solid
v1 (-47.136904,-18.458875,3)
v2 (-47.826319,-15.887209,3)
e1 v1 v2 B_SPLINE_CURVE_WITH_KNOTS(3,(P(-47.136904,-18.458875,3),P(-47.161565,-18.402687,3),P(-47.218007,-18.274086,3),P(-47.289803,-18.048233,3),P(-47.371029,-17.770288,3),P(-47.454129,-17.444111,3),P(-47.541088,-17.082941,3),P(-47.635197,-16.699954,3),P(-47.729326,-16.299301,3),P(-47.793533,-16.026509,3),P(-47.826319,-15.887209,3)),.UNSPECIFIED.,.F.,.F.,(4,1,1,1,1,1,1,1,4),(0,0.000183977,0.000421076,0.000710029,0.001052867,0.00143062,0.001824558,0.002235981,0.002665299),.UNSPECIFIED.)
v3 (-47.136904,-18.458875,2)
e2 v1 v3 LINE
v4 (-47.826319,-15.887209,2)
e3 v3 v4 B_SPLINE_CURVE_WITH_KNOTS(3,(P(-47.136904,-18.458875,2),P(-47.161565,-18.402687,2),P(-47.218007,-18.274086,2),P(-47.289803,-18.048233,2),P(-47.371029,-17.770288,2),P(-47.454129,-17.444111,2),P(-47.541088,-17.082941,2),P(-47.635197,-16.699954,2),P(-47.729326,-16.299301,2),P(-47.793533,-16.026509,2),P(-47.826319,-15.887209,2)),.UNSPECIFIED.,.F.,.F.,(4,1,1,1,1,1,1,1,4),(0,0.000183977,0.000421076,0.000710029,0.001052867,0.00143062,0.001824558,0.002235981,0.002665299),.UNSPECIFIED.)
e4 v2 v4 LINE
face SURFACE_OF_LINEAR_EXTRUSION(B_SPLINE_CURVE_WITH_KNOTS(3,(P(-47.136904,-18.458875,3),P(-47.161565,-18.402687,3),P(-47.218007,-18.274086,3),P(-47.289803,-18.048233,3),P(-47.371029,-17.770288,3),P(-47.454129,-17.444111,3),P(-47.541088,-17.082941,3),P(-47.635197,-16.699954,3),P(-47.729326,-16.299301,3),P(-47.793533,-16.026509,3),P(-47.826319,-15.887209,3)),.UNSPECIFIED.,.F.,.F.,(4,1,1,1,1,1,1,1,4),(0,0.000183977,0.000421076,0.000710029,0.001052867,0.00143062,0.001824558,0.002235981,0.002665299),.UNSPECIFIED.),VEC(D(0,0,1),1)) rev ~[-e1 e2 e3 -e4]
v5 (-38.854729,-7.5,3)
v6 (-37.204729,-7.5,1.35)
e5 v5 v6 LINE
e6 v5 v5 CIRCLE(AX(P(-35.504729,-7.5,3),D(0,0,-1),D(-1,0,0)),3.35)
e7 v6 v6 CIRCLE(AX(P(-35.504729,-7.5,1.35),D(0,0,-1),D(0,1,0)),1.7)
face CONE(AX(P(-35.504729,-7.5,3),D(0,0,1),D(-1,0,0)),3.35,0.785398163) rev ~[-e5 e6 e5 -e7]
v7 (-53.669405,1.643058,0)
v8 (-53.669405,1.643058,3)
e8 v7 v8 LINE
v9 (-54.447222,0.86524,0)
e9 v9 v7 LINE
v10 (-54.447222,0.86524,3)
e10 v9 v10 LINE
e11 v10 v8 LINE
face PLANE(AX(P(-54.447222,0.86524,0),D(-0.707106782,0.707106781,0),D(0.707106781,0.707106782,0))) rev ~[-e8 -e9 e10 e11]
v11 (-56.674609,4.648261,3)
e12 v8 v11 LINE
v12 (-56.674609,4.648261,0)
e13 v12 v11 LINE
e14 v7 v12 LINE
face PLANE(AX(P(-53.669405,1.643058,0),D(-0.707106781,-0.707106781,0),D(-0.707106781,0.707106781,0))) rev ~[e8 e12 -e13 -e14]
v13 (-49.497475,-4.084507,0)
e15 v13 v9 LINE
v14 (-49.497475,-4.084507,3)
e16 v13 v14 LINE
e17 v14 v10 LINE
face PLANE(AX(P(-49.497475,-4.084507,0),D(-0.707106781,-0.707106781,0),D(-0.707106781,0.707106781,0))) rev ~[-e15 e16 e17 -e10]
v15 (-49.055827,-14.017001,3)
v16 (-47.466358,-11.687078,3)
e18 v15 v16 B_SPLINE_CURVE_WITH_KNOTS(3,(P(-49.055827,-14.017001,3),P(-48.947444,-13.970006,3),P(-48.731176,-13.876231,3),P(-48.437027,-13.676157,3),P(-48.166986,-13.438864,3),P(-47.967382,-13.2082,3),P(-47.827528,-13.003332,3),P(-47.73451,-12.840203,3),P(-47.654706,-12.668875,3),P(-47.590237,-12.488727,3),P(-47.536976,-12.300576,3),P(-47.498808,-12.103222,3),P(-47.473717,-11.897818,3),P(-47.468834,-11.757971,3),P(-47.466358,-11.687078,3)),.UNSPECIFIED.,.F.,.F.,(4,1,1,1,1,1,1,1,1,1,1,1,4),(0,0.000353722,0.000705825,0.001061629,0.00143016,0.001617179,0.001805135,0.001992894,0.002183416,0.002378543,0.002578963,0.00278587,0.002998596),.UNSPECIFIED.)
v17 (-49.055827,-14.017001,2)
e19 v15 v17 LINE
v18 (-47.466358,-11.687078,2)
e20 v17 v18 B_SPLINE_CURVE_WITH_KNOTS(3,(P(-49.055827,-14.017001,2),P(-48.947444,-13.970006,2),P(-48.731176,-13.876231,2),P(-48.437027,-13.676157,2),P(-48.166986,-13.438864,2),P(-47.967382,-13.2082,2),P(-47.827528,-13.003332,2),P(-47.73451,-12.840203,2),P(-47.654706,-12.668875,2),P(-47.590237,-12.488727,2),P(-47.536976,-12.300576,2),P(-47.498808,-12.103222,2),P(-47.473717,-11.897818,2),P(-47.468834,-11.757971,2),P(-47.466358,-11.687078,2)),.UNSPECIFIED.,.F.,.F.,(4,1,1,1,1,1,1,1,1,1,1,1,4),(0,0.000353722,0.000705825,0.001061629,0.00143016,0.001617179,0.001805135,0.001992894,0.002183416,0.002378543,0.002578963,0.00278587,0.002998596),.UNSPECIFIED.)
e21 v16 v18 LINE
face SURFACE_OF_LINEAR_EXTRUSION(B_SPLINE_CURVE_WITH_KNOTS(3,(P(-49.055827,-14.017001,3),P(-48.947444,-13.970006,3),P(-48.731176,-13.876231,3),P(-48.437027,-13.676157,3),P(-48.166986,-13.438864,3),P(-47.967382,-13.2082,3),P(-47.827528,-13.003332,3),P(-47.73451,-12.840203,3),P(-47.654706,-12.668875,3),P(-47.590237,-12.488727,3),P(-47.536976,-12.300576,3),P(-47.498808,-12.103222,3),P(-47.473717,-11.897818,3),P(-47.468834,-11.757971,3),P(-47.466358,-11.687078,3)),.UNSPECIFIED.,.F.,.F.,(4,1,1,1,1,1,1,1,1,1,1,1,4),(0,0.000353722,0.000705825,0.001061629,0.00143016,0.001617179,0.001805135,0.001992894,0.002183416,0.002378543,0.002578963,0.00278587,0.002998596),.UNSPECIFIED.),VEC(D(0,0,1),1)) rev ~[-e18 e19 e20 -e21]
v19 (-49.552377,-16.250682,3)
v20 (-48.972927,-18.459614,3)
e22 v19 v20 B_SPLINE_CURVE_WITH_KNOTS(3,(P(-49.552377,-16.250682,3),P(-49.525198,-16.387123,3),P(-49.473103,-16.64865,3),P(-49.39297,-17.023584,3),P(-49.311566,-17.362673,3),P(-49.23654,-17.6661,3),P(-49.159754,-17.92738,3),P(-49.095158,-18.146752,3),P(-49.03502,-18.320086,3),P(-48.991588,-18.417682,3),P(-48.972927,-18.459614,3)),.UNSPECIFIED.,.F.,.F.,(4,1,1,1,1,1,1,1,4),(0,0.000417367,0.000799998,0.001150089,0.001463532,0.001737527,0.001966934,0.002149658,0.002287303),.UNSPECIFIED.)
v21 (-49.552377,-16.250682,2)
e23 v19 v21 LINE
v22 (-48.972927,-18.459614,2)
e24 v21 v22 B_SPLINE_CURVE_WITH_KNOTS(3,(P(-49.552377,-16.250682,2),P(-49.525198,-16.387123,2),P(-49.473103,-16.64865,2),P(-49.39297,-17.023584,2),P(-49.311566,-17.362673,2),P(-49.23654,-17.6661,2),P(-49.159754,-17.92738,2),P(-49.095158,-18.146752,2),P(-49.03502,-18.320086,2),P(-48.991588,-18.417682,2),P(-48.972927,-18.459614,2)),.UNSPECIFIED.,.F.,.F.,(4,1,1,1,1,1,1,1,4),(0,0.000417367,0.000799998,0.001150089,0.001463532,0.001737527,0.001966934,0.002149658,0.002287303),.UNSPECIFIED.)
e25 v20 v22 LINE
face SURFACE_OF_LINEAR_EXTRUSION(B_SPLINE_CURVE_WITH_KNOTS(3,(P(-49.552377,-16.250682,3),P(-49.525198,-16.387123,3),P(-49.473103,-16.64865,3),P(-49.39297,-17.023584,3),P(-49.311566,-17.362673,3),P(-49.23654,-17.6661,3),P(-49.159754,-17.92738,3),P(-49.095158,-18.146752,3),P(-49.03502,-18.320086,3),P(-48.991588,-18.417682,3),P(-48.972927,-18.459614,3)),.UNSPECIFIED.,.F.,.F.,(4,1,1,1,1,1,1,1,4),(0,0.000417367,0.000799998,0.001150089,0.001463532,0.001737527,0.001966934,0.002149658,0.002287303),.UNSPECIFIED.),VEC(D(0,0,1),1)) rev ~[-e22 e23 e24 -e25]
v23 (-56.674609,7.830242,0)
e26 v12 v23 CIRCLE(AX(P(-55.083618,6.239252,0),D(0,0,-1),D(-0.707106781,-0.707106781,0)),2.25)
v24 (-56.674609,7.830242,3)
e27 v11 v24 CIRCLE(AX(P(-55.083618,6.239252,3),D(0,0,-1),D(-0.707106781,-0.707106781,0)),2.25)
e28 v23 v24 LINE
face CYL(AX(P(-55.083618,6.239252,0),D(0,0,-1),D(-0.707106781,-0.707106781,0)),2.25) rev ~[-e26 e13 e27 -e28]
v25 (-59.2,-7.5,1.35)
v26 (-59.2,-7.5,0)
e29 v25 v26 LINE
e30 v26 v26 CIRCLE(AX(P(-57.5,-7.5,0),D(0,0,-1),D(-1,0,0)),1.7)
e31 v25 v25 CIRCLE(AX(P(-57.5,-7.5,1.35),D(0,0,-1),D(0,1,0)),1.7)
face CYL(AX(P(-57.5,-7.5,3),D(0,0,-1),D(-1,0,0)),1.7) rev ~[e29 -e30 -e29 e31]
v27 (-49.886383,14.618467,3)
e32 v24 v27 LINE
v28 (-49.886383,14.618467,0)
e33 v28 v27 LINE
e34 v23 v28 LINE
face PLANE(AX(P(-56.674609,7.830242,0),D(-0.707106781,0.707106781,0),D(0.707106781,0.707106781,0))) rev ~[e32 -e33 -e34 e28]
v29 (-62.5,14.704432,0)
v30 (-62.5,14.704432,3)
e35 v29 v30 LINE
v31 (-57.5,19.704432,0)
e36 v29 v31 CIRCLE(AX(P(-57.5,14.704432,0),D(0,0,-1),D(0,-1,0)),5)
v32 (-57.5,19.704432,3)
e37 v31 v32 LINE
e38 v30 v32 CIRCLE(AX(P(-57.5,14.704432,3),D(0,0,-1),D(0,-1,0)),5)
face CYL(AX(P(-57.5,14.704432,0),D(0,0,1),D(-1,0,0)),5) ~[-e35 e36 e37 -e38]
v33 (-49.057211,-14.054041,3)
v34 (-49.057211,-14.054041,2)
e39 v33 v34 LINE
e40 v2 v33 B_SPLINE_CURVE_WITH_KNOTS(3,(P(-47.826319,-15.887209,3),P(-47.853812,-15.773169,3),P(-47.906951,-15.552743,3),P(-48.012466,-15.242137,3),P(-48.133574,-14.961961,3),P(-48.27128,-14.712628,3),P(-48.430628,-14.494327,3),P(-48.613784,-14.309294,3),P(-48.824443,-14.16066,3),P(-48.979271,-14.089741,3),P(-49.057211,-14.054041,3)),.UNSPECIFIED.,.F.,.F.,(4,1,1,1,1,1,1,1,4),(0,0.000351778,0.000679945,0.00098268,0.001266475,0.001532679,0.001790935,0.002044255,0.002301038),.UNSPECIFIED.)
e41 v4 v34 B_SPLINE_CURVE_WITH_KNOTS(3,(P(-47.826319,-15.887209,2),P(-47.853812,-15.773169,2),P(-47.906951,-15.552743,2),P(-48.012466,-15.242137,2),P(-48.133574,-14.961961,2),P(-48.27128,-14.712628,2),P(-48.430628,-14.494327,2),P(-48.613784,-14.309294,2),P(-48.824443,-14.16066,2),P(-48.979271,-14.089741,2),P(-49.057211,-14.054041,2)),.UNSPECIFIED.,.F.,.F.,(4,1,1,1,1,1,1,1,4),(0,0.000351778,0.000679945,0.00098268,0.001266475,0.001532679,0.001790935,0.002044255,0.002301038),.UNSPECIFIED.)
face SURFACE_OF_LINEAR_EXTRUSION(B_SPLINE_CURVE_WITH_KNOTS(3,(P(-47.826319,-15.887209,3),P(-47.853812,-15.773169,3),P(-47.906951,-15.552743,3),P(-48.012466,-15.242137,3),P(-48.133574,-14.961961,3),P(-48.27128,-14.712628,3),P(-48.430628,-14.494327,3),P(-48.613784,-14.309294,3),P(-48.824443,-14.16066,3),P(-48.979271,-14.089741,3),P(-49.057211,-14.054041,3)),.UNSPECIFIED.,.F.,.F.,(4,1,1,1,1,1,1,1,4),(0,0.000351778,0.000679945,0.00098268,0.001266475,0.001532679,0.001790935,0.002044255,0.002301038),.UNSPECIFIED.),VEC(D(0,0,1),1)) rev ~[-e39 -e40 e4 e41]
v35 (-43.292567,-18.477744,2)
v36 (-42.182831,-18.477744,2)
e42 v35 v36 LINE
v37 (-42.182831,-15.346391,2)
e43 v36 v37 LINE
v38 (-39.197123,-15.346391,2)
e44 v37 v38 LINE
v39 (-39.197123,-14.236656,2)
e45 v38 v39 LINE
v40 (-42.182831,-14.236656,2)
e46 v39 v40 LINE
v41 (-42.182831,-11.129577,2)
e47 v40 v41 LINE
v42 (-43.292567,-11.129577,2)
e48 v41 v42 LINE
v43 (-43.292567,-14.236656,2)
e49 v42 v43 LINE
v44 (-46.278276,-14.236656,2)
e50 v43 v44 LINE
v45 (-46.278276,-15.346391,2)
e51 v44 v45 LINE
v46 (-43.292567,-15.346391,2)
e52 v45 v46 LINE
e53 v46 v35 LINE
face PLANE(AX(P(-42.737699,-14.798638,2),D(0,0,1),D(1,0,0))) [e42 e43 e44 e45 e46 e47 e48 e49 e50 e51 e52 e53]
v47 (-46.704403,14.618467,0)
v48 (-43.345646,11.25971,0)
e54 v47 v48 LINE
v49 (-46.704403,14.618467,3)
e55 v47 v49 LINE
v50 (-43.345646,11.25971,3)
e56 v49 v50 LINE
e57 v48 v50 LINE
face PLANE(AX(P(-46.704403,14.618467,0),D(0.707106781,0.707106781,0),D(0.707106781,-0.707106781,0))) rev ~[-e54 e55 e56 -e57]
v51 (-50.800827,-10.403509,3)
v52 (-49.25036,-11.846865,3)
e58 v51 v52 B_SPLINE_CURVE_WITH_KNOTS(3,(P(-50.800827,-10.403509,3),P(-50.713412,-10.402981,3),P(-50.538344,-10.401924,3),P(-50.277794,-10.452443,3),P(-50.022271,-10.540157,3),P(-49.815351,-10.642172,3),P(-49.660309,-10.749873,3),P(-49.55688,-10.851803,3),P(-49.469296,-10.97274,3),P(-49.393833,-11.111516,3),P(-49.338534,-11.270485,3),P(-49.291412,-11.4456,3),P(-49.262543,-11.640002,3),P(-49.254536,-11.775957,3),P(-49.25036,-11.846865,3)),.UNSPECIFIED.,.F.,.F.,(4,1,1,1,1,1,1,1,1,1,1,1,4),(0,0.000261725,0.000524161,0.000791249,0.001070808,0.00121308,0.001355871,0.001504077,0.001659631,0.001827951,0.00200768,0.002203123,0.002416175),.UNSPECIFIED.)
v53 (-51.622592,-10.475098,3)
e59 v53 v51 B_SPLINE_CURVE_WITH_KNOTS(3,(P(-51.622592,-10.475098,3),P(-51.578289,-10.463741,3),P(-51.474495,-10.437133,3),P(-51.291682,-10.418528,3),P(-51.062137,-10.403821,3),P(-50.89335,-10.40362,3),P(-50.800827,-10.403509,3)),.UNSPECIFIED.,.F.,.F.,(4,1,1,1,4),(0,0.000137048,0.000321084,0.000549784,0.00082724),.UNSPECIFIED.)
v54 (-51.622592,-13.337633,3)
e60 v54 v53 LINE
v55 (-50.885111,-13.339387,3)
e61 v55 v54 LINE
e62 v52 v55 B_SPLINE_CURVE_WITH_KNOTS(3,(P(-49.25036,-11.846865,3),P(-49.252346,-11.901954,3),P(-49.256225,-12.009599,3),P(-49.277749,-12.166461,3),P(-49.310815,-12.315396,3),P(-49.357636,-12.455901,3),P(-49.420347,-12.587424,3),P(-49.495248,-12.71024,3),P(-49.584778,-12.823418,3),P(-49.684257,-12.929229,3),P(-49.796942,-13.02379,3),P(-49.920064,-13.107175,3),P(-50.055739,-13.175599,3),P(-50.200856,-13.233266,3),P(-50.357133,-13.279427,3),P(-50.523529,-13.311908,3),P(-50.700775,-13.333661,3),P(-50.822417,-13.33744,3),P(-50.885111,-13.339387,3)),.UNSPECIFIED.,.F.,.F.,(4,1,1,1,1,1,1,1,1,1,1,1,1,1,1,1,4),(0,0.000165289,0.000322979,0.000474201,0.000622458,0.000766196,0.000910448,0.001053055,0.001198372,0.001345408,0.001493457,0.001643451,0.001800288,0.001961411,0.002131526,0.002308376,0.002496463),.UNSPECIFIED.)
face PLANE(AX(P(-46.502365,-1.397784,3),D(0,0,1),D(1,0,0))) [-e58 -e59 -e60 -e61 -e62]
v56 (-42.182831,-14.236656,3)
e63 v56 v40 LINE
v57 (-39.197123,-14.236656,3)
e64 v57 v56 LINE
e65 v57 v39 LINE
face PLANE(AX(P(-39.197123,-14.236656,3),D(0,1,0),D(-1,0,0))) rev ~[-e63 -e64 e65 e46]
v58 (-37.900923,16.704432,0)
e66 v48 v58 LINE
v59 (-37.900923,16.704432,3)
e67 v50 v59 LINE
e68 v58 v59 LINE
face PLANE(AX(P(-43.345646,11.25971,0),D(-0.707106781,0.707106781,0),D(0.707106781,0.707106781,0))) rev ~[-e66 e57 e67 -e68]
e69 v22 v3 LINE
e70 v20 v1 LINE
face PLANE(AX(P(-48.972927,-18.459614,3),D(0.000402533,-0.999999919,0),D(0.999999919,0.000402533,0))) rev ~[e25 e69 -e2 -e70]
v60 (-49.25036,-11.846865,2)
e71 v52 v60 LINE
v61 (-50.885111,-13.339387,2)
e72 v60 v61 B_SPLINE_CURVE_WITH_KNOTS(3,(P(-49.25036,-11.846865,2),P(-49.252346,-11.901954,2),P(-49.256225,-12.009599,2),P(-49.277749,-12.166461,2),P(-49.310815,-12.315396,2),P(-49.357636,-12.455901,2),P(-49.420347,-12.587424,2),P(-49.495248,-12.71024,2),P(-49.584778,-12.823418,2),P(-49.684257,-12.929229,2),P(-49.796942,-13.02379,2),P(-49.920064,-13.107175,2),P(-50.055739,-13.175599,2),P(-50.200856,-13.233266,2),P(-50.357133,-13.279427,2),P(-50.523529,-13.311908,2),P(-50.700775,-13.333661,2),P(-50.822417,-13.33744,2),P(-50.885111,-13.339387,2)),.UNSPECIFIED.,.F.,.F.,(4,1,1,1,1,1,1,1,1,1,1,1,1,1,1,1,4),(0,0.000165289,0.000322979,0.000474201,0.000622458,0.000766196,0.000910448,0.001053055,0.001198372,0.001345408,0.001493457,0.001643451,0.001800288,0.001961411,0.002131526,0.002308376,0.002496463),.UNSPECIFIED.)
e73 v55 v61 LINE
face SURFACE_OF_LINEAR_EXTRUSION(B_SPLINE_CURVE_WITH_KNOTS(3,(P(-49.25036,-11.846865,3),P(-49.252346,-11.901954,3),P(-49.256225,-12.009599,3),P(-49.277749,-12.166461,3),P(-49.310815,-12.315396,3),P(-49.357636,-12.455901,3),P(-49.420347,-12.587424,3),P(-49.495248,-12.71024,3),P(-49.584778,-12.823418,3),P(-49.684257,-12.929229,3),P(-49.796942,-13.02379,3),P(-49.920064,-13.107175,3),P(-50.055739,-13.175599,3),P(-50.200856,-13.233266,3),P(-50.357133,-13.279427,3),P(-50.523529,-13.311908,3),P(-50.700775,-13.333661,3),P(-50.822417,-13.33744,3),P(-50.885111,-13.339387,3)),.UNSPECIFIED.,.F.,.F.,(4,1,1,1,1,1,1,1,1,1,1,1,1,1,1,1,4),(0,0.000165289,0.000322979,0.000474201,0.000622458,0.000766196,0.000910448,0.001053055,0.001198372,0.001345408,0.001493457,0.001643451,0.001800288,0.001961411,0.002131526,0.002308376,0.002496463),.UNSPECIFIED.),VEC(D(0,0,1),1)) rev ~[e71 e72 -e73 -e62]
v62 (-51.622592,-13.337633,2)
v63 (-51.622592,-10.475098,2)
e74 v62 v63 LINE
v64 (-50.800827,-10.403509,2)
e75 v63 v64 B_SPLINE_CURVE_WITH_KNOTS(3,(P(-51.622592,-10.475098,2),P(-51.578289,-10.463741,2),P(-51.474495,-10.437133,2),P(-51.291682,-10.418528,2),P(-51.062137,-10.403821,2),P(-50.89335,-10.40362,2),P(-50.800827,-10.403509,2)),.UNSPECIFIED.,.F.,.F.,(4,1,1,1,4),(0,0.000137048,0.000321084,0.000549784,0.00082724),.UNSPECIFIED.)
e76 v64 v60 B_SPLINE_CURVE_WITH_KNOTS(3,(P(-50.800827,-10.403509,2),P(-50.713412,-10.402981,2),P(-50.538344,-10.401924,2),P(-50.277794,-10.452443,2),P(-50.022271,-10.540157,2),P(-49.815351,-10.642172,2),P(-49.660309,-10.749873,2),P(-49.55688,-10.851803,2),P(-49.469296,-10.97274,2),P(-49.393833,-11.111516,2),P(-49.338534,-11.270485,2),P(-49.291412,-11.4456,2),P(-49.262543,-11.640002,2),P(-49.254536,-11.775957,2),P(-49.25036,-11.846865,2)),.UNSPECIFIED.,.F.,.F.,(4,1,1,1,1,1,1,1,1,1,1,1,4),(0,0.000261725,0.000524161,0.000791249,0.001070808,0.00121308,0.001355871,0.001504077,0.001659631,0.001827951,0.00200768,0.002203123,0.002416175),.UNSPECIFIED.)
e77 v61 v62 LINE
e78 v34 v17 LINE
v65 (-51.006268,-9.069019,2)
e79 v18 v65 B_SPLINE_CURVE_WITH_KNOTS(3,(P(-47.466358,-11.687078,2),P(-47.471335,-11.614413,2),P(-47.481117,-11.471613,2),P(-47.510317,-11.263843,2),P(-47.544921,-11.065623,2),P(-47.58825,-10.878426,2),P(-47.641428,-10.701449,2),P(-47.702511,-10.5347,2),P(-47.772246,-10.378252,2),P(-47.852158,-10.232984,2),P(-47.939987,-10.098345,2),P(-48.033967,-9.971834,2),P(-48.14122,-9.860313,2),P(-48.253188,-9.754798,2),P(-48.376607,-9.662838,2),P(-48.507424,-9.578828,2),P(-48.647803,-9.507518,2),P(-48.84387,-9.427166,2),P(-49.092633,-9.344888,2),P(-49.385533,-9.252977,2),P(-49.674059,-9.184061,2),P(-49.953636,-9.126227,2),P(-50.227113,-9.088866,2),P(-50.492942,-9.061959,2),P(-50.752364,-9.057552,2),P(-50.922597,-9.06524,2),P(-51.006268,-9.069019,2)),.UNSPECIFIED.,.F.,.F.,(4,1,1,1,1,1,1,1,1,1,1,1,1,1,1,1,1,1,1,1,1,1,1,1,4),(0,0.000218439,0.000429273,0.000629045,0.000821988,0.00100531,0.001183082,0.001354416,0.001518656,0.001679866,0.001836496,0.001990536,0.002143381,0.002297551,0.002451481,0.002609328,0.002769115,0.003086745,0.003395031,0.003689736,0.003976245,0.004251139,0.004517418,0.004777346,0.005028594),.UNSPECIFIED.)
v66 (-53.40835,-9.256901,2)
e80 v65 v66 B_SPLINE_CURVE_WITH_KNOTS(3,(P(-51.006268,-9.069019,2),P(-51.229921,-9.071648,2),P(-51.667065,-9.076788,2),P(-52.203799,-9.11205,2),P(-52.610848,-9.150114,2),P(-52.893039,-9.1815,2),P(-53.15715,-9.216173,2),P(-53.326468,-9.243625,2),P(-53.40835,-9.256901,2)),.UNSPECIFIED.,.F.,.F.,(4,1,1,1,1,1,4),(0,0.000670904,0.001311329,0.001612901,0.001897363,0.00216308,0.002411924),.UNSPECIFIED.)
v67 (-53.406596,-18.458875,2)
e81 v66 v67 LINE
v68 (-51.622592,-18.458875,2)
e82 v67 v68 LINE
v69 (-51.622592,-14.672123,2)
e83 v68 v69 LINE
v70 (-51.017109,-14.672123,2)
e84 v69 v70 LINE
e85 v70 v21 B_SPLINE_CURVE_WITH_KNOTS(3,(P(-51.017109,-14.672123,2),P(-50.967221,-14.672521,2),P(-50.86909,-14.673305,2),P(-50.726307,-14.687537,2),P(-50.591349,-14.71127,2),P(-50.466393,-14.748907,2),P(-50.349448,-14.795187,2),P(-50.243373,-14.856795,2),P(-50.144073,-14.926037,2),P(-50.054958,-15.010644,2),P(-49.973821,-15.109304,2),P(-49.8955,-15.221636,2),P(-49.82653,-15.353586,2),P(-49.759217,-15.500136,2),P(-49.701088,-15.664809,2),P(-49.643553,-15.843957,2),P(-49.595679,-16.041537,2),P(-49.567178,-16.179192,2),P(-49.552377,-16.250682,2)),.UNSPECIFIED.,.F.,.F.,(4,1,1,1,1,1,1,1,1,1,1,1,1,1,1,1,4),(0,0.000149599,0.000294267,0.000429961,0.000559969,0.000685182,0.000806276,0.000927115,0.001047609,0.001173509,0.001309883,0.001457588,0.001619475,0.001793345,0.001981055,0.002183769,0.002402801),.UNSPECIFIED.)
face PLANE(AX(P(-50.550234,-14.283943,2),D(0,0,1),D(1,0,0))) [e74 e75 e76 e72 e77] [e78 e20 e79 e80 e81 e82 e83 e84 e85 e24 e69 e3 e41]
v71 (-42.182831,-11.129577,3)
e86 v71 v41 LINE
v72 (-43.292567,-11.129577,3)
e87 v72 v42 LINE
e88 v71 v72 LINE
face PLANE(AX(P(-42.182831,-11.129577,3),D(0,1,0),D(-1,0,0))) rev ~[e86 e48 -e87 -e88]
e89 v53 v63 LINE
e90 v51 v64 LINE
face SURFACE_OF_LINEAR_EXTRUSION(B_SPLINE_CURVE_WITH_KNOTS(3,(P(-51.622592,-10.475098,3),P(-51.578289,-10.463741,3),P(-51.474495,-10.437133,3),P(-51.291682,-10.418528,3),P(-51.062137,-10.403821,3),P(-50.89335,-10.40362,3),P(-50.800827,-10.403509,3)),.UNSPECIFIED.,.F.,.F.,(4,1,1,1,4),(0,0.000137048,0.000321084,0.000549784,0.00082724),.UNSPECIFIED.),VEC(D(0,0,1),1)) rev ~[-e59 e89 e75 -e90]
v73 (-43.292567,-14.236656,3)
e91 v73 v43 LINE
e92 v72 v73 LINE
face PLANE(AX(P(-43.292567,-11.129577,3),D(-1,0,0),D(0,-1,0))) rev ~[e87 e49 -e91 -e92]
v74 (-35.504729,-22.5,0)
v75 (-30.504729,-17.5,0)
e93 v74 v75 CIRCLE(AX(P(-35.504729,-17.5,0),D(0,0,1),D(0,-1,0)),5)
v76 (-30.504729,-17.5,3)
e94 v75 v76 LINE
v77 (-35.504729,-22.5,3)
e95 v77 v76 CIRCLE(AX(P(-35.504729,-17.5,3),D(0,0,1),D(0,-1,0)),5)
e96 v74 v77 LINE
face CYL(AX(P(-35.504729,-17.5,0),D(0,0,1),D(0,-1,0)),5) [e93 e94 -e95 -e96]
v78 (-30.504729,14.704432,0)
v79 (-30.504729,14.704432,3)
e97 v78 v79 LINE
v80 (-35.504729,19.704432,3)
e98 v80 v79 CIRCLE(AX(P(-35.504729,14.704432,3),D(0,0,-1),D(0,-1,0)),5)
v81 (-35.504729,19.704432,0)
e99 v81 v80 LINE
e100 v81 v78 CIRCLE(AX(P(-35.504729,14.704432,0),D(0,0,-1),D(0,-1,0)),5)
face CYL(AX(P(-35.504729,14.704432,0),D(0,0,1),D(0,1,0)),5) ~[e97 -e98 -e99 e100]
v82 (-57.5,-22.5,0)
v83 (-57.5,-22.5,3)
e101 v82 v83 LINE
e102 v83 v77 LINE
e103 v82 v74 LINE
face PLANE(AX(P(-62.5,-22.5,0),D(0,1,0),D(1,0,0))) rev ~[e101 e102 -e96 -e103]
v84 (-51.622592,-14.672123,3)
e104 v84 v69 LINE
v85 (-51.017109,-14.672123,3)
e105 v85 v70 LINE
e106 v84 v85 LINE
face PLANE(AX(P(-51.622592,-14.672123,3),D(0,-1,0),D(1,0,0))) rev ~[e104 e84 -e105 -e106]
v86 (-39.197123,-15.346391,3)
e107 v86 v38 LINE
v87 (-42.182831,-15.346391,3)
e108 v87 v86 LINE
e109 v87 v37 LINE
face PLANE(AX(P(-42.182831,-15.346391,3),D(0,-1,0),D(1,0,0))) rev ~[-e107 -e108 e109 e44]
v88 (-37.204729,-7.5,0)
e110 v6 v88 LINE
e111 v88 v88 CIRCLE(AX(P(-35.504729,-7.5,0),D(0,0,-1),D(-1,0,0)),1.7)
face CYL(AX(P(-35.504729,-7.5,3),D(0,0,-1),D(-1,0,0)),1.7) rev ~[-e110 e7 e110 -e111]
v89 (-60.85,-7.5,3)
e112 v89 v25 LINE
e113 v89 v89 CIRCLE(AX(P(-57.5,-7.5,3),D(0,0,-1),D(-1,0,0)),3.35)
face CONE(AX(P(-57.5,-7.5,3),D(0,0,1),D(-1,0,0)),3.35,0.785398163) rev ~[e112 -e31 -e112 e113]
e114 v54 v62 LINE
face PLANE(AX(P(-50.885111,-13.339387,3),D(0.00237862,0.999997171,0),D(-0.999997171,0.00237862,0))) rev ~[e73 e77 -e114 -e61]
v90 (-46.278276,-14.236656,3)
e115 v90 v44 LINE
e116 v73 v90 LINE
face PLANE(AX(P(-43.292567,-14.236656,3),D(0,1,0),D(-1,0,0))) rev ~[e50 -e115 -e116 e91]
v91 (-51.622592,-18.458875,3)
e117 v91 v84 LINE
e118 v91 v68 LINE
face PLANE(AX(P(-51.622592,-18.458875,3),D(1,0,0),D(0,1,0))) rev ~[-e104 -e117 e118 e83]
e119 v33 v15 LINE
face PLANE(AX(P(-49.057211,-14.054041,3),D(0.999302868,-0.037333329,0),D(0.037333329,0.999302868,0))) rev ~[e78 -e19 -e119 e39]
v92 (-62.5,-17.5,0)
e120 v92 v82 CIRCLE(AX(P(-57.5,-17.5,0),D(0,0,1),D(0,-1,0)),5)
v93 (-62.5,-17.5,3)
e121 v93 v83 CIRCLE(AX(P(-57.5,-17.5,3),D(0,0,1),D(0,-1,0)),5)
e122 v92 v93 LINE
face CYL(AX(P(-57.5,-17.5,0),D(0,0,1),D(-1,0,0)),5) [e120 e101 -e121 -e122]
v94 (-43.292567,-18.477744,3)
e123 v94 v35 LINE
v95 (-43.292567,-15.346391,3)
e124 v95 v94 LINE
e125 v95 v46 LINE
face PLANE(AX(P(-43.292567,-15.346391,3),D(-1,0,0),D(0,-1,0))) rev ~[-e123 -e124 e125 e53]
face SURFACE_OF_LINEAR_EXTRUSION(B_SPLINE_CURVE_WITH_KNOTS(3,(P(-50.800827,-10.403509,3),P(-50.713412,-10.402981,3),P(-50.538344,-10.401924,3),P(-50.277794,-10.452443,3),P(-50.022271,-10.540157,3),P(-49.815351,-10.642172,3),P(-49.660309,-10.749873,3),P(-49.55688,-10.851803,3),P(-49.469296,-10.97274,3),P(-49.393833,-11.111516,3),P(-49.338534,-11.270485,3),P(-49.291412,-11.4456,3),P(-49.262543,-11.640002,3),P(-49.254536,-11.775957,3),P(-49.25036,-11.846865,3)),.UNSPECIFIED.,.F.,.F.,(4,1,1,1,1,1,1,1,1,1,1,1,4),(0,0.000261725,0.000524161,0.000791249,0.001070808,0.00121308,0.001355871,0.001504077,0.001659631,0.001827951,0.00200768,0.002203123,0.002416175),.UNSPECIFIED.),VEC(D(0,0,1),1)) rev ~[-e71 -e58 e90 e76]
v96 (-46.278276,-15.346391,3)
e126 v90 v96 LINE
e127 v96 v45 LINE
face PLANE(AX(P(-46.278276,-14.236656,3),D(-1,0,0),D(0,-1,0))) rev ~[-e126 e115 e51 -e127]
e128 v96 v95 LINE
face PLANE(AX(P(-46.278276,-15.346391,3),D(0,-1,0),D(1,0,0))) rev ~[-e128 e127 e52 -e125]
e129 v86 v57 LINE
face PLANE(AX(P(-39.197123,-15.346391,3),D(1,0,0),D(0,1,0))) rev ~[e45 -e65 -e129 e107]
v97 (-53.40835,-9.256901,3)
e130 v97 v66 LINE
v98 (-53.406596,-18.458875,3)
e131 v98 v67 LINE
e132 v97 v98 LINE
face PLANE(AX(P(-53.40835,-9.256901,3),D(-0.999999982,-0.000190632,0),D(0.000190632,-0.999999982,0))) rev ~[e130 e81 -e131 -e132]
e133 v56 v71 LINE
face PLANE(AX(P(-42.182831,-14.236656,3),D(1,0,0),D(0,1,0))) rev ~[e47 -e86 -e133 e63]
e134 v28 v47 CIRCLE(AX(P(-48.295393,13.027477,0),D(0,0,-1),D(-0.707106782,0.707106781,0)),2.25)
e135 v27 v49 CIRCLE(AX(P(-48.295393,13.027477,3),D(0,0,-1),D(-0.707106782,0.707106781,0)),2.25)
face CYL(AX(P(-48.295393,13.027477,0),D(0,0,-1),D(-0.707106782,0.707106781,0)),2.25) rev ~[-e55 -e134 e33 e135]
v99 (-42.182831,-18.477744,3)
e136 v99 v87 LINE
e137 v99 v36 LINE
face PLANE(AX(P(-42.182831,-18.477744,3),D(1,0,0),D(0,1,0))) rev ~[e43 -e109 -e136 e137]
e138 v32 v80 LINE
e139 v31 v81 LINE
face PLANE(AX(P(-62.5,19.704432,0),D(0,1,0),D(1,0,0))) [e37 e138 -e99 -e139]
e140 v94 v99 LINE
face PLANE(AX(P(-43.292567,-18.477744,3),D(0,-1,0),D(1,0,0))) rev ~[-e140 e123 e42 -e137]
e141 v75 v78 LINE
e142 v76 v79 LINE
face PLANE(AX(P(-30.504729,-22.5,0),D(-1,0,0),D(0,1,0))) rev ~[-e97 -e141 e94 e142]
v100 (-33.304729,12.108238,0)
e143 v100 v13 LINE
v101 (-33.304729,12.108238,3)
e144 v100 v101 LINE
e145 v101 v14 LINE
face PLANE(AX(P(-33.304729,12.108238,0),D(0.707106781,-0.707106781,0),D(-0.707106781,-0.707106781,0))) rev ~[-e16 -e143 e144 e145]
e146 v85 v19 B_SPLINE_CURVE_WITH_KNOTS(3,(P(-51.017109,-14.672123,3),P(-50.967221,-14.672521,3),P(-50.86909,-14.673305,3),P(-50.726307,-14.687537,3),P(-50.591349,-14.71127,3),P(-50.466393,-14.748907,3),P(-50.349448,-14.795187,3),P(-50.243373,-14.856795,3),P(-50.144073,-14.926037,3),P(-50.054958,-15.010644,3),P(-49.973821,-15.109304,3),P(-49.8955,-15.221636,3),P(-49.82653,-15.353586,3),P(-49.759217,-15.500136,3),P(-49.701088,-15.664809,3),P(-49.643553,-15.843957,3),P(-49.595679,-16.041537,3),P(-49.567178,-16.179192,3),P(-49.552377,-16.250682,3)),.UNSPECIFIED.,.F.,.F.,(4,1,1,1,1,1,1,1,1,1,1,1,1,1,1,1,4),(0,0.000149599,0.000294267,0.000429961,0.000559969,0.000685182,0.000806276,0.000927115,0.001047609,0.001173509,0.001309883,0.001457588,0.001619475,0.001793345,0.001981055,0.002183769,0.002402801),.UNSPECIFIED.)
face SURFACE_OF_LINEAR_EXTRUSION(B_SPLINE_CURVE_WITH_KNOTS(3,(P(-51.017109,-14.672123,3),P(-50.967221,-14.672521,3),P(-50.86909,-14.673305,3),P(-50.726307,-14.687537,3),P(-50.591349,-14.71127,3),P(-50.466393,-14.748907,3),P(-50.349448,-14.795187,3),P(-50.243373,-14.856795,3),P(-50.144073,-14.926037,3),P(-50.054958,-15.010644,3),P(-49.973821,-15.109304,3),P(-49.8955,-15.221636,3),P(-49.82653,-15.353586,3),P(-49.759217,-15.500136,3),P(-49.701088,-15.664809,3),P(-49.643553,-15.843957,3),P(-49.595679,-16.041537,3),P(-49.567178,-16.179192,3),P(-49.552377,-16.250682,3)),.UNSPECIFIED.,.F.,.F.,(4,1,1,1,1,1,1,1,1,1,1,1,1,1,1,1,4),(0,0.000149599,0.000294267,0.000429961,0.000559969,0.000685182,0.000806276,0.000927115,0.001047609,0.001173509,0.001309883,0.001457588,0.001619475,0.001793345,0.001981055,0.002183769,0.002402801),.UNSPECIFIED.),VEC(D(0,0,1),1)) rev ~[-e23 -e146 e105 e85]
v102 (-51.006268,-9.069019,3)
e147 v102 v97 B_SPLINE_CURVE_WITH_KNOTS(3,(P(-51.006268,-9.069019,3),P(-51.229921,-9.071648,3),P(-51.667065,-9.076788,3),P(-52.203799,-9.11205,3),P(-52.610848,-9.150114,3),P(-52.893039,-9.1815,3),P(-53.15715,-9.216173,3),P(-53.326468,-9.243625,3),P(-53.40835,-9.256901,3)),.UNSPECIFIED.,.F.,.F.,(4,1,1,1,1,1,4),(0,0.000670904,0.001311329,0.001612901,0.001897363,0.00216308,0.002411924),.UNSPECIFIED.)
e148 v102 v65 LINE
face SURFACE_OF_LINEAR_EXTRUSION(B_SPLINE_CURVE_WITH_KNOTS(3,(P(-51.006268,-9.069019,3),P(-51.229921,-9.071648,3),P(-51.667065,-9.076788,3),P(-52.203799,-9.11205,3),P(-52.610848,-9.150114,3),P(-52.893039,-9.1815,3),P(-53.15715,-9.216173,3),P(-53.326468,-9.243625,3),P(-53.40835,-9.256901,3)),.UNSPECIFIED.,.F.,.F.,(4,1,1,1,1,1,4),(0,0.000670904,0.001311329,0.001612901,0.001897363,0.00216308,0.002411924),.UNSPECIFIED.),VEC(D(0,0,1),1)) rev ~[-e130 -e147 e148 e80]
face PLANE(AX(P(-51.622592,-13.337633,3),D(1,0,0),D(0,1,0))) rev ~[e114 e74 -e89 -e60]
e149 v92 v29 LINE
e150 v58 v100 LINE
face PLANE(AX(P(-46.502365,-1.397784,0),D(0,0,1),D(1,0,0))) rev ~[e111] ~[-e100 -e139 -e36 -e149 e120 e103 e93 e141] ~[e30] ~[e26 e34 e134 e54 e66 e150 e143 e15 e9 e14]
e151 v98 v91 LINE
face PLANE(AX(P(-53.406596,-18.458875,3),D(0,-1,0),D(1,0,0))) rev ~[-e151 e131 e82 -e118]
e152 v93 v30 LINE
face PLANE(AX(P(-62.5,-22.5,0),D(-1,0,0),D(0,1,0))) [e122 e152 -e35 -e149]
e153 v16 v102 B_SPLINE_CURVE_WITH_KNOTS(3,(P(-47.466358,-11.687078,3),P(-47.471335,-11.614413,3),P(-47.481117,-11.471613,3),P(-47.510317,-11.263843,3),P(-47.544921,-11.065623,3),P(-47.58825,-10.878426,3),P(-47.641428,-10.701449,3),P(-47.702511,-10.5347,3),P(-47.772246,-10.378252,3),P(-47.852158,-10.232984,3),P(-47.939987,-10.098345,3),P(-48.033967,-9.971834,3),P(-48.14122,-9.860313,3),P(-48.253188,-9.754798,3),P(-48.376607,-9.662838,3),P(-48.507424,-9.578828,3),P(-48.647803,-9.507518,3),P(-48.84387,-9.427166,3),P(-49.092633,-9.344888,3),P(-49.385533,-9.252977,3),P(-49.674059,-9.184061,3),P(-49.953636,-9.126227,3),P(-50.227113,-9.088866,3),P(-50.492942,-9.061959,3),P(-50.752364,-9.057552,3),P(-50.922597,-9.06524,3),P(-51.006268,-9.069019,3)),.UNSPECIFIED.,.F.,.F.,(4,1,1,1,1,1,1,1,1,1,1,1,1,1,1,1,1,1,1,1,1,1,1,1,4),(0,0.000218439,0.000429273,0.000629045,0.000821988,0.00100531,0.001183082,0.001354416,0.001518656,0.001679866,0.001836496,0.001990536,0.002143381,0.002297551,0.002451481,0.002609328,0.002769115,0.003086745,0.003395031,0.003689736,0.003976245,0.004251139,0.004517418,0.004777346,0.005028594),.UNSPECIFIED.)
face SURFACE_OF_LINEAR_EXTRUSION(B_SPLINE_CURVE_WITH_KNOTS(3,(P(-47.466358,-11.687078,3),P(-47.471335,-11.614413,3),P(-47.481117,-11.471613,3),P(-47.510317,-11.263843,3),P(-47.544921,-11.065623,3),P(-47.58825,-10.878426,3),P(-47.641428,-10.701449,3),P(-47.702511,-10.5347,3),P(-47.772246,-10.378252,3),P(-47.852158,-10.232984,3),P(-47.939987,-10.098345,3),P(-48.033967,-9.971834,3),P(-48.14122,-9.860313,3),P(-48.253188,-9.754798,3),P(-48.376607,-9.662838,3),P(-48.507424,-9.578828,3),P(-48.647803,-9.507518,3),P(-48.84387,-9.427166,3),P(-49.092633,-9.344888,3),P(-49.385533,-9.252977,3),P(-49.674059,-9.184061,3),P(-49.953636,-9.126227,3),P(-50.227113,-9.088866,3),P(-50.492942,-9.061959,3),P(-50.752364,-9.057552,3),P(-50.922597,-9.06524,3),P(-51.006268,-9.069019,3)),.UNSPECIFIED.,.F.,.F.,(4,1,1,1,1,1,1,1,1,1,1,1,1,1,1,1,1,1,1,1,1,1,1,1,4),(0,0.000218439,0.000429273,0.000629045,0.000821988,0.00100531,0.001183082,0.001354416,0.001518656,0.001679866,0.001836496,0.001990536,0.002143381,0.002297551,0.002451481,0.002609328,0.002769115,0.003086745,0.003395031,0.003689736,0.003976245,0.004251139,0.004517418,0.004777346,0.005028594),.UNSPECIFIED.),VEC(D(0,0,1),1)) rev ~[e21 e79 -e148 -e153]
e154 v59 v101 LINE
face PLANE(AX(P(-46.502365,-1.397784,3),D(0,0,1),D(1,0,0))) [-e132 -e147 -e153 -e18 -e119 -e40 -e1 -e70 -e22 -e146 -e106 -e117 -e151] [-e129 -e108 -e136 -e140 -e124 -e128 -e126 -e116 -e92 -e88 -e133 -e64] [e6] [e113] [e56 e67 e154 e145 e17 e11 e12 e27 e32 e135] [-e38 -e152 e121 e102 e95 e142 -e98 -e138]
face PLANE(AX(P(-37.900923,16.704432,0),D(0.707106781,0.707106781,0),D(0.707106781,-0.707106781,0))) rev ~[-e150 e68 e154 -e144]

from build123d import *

# Parameters (mm, degrees)
SKETCH2_W                                           = 31.995270606
SKETCH2_H                                           = 42.204432033
BOSS_EXTRUDE2_DEPTH                                 = 3
FILLET1_R                                           = 5
CUT_EXTRUDE1_DEPTH                                  = 1
CSK_FOR_M3_COUNTERSUNK_FLAT_HEAD_SCREW1_D           = 3.4
CSK_FOR_M3_COUNTERSUNK_FLAT_HEAD_SCREW1_DEPTH       = 20
CSK_FOR_M3_COUNTERSUNK_FLAT_HEAD_SCREW1_CSINK_D     = 6.7
CSK_FOR_M3_COUNTERSUNK_FLAT_HEAD_SCREW1_CSINK_ANGLE = 90
CSK_FOR_M3_COUNTERSUNK_FLAT_HEAD_SCREW1_TIP         = 1.021463052


with BuildPart() as part:
    # Sketch2 → Boss-Extrude2 (new body)
    with BuildSketch(Plane.XY):
        with Locations((-46.502364697, -1.397783984)):
            Rectangle(SKETCH2_W, SKETCH2_H)
        with BuildLine():
            Line((-43.345645687, 11.259709818), (-37.900923472, 16.704432033))
            Line((-37.900923472, 16.704432033), (-33.304729394, 12.108237955))
            Line((-33.304729394, 12.108237955), (-40.481863223, 4.931104126))
            Line((-40.481863223, 4.931104126), (-47.694352391, -2.281385042))
            Line((-47.694352391, -2.281385042), (-49.497474683, -4.084507334))
            Line((-49.497474683, -4.084507334), (-54.270445456, 0.688463439))
            Line((-54.270445456, 0.688463439), (-54.447222151, 0.865240134))
            Line((-54.447222151, 0.865240134), (-53.669404692, 1.643057594))
            Line((-53.669404692, 1.643057594), (-56.674608512, 4.648261414))
            ThreePointArc((-56.674608512, 4.648261414), (-57.333618254, 6.239251671), (-56.674608512, 7.830241929))
            Line((-56.674608512, 7.830241929), (-49.886383413, 14.618467028))
            ThreePointArc((-49.886383413, 14.618467028), (-48.295393155, 15.277476771), (-46.704402897, 14.618467028))
            Line((-46.704402897, 14.618467028), (-43.345645687, 11.259709818))
        make_face(mode=Mode.SUBTRACT)
    extrude(amount=BOSS_EXTRUDE2_DEPTH)

    # Fillet1
    fillet1_edges = [part.edges().sort_by_distance(p)[0] for p in [
        (-62.5, 19.704432033, 1.5),
        (-30.504729394, 19.704432033, 1.5),
        (-30.504729394, -22.5, 1.5),
        (-62.5, -22.5, 1.5),
    ]]
    fillet(fillet1_edges, radius=FILLET1_R)

    # Sketch3 → Cut-Extrude1 (cut)
    with BuildSketch(Plane.XY.offset(3)):
        with BuildLine():
            Line((-53.406595938, -18.458875061), (-51.622591884, -18.458875061))
            Line((-51.622591884, -18.458875061), (-51.622591884, -14.672122679))
            Line((-51.622591884, -14.672122679), (-51.017108914, -14.672122679))
            add(Edge.make_bspline(
                [(-51.017108914, -14.672122679), (-50.967221063, -14.6725211), (-50.869089583, -14.673304811), (-50.726307211, -14.687536776), (-50.59134918, -14.711269605), (-50.466393214, -14.74890661), (-50.349448029, -14.795186794), (-50.243372763, -14.856795477), (-50.144072949, -14.926037335), (-50.054957683, -15.010644116), (-49.973820519, -15.109304476), (-49.895499782, -15.22163632), (-49.82653007, -15.353586411), (-49.759217057, -15.500135947), (-49.701088017, -15.664809001), (-49.643553431, -15.843956856), (-49.595679106, -16.041536599), (-49.567178312, -16.179191645), (-49.552376571, -16.25068209)],
                knots=[0, 0, 0, 0, 0.000149599, 0.000294267, 0.000429961, 0.000559969, 0.000685182, 0.000806276, 0.000927115, 0.001047609, 0.001173509, 0.001309883, 0.001457588, 0.001619475, 0.001793345, 0.001981055, 0.002183769, 0.002402801, 0.002402801, 0.002402801, 0.002402801], degree=3))
            add(Edge.make_bspline(
                [(-49.552376571, -16.25068209), (-49.525198055, -16.387123246), (-49.473103018, -16.648649934), (-49.392970197, -17.023584407), (-49.311565779, -17.362673147), (-49.236540071, -17.666100231), (-49.159754201, -17.927379781), (-49.09515802, -18.146751884), (-49.035019782, -18.32008565), (-48.991587507, -18.417682148), (-48.972926992, -18.45961412)],
                knots=[0, 0, 0, 0, 0.000417367, 0.000799998, 0.001150089, 0.001463532, 0.001737527, 0.001966934, 0.002149658, 0.002287303, 0.002287303, 0.002287303, 0.002287303], degree=3))
            Line((-48.972926992, -18.45961412), (-47.136904169, -18.458875061))
            add(Edge.make_bspline(
                [(-47.136904169, -18.458875061), (-47.161564895, -18.402686862), (-47.218007052, -18.274086301), (-47.289802608, -18.048232695), (-47.371028766, -17.770288113), (-47.454128887, -17.444111213), (-47.54108784, -17.08294144), (-47.635197109, -16.699954349), (-47.729326366, -16.299301278), (-47.793532678, -16.026508782), (-47.826319189, -15.887209172)],
                knots=[0, 0, 0, 0, 0.000183977, 0.000421076, 0.000710029, 0.001052867, 0.00143062, 0.001824558, 0.002235981, 0.002665299, 0.002665299, 0.002665299, 0.002665299], degree=3))
            add(Edge.make_bspline(
                [(-47.826319189, -15.887209172), (-47.853811517, -15.773168942), (-47.906950904, -15.5527428), (-48.012466172, -15.242137194), (-48.133574292, -14.961961493), (-48.271280255, -14.712628496), (-48.430628441, -14.494327391), (-48.613783885, -14.309294243), (-48.824443435, -14.160659908), (-48.979271119, -14.089741414), (-49.057210567, -14.054041414)],
                knots=[0, 0, 0, 0, 0.000351778, 0.000679945, 0.00098268, 0.001266475, 0.001532679, 0.001790935, 0.002044255, 0.002301038, 0.002301038, 0.002301038, 0.002301038], degree=3))
            Line((-49.057210567, -14.054041414), (-49.055826761, -14.017001018))
            add(Edge.make_bspline(
                [(-49.055826761, -14.017001018), (-48.947444474, -13.970005767), (-48.731176328, -13.876230519), (-48.437027307, -13.676157256), (-48.16698609, -13.438863882), (-47.96738166, -13.208200023), (-47.827527505, -13.003332314), (-47.734510158, -12.840203194), (-47.654705939, -12.668874791), (-47.590237223, -12.488727388), (-47.536975559, -12.300576236), (-47.49880838, -12.103222096), (-47.473716885, -11.89781805), (-47.468833592, -11.757970901), (-47.466358087, -11.68707768)],
                knots=[0, 0, 0, 0, 0.000353722, 0.000705825, 0.001061629, 0.00143016, 0.001617179, 0.001805135, 0.001992894, 0.002183416, 0.002378543, 0.002578963, 0.00278587, 0.002998596, 0.002998596, 0.002998596, 0.002998596], degree=3))
            add(Edge.make_bspline(
                [(-47.466358087, -11.68707768), (-47.471335477, -11.614412673), (-47.481116943, -11.471612893), (-47.510316581, -11.263842973), (-47.54492077, -11.065622921), (-47.588249594, -10.87842638), (-47.641427562, -10.701449), (-47.702511342, -10.534699828), (-47.772245942, -10.378252437), (-47.852158355, -10.232984263), (-47.939986965, -10.098344998), (-48.033967332, -9.971834439), (-48.141219561, -9.860313263), (-48.25318803, -9.754798011), (-48.376606652, -9.662838486), (-48.507424148, -9.578828028), (-48.647802909, -9.507518301), (-48.843870315, -9.427166253), (-49.092633379, -9.344888092), (-49.385532702, -9.252977107), (-49.674059157, -9.184061361), (-49.953635545, -9.126227189), (-50.227113002, -9.088865813), (-50.492941892, -9.061958609), (-50.752364485, -9.057551627), (-50.922597141, -9.065240143), (-51.006268241, -9.069019128)],
                knots=[0, 0, 0, 0, 0.000218439, 0.000429273, 0.000629045, 0.000821988, 0.00100531, 0.001183082, 0.001354416, 0.001518656, 0.001679866, 0.001836496, 0.001990536, 0.002143381, 0.002297551, 0.002451481, 0.002609328, 0.002769115, 0.003086745, 0.003395031, 0.003689736, 0.003976245, 0.004251139, 0.004517418, 0.004777346, 0.005028594, 0.005028594, 0.005028594, 0.005028594], degree=3))
            add(Edge.make_bspline(
                [(-51.006268241, -9.069019128), (-51.229920663, -9.07164849), (-51.667065111, -9.076787763), (-52.203799431, -9.112050461), (-52.610847653, -9.150113546), (-52.893038741, -9.181499683), (-53.157150271, -9.216172913), (-53.326467573, -9.243625216), (-53.408350131, -9.256901264)],
                knots=[0, 0, 0, 0, 0.000670904, 0.001311329, 0.001612901, 0.001897363, 0.00216308, 0.002411924, 0.002411924, 0.002411924, 0.002411924], degree=3))
            Line((-53.408350131, -9.256901264), (-53.406595938, -18.458875061))
        make_face()
        with BuildLine():
            add(Edge.make_bspline(
                [(-51.622591884, -10.475098321), (-51.578289384, -10.463741178), (-51.474495266, -10.437133094), (-51.291682029, -10.418528414), (-51.062136724, -10.403821129), (-50.893349772, -10.40361956), (-50.800827027, -10.403509067)],
                knots=[0, 0, 0, 0, 0.000137048, 0.000321084, 0.000549784, 0.00082724, 0.00082724, 0.00082724, 0.00082724], degree=3))
            add(Edge.make_bspline(
                [(-50.800827027, -10.403509067), (-50.713411846, -10.402981113), (-50.538343762, -10.40192377), (-50.277794239, -10.452443011), (-50.02227135, -10.54015698), (-49.815350935, -10.642172207), (-49.660308674, -10.749873331), (-49.556880046, -10.851803167), (-49.46929571, -10.972739958), (-49.393832963, -11.111515899), (-49.338533994, -11.270485036), (-49.291412353, -11.445599811), (-49.26254282, -11.640002112), (-49.25453627, -11.775957367), (-49.250360427, -11.846865291)],
                knots=[0, 0, 0, 0, 0.000261725, 0.000524161, 0.000791249, 0.001070808, 0.00121308, 0.001355871, 0.001504077, 0.001659631, 0.001827951, 0.00200768, 0.002203123, 0.002416175, 0.002416175, 0.002416175, 0.002416175], degree=3))
            add(Edge.make_bspline(
                [(-49.250360427, -11.846865291), (-49.252345828, -11.901954186), (-49.256225356, -12.009599393), (-49.277748827, -12.166460507), (-49.310814955, -12.315396112), (-49.357636445, -12.455901219), (-49.420346886, -12.587424294), (-49.495248035, -12.710240218), (-49.584778187, -12.823418468), (-49.684256839, -12.929228854), (-49.796941896, -13.023790308), (-49.920064233, -13.107175482), (-50.055738699, -13.175598565), (-50.200855706, -13.233265514), (-50.357133256, -13.279426838), (-50.523528709, -13.311908188), (-50.700774743, -13.333661231), (-50.822416839, -13.337439587), (-50.885110602, -13.339386933)],
                knots=[0, 0, 0, 0, 0.000165289, 0.000322979, 0.000474201, 0.000622458, 0.000766196, 0.000910448, 0.001053055, 0.001198372, 0.001345408, 0.001493457, 0.001643451, 0.001800288, 0.001961411, 0.002131526, 0.002308376, 0.002496463, 0.002496463, 0.002496463, 0.002496463], degree=3))
            Line((-50.885110602, -13.339386933), (-51.622591884, -13.33763274))
            Line((-51.622591884, -13.33763274), (-51.622591884, -10.475098321))
        make_face(mode=Mode.SUBTRACT)
        Polygon((-46.278275536, -14.236655826), (-46.278275536, -15.34639128), (-43.292566927, -15.34639128), (-43.292566927, -18.477744211), (-42.182831473, -18.477744211), (-42.182831473, -15.34639128), (-39.197122864, -15.34639128), (-39.197122864, -14.236655826), (-42.182831473, -14.236655826), (-42.182831473, -11.129576949), (-43.292566927, -11.129576949), (-43.292566927, -14.236655826), align=None)
    extrude(amount=-CUT_EXTRUDE1_DEPTH, mode=Mode.SUBTRACT)

    # CSK for M3 Countersunk Flat Head Screw1
    with Locations(Plane(origin=(-57.5, -7.5, 3), x_dir=(1, 0, 0), z_dir=(0, 0, 1))):
        with Locations((0, 0), (21.995270606, 0)):
            CounterSinkHole(CSK_FOR_M3_COUNTERSUNK_FLAT_HEAD_SCREW1_D / 2, CSK_FOR_M3_COUNTERSUNK_FLAT_HEAD_SCREW1_CSINK_D / 2, depth=CSK_FOR_M3_COUNTERSUNK_FLAT_HEAD_SCREW1_DEPTH, counter_sink_angle=CSK_FOR_M3_COUNTERSUNK_FLAT_HEAD_SCREW1_CSINK_ANGLE)
            with Locations((0, 0, -(CSK_FOR_M3_COUNTERSUNK_FLAT_HEAD_SCREW1_DEPTH + CSK_FOR_M3_COUNTERSUNK_FLAT_HEAD_SCREW1_TIP / 2))):  # 118° drill point
                Cone(0, CSK_FOR_M3_COUNTERSUNK_FLAT_HEAD_SCREW1_D / 2, CSK_FOR_M3_COUNTERSUNK_FLAT_HEAD_SCREW1_TIP, mode=Mode.SUBTRACT)


solid = part.part
